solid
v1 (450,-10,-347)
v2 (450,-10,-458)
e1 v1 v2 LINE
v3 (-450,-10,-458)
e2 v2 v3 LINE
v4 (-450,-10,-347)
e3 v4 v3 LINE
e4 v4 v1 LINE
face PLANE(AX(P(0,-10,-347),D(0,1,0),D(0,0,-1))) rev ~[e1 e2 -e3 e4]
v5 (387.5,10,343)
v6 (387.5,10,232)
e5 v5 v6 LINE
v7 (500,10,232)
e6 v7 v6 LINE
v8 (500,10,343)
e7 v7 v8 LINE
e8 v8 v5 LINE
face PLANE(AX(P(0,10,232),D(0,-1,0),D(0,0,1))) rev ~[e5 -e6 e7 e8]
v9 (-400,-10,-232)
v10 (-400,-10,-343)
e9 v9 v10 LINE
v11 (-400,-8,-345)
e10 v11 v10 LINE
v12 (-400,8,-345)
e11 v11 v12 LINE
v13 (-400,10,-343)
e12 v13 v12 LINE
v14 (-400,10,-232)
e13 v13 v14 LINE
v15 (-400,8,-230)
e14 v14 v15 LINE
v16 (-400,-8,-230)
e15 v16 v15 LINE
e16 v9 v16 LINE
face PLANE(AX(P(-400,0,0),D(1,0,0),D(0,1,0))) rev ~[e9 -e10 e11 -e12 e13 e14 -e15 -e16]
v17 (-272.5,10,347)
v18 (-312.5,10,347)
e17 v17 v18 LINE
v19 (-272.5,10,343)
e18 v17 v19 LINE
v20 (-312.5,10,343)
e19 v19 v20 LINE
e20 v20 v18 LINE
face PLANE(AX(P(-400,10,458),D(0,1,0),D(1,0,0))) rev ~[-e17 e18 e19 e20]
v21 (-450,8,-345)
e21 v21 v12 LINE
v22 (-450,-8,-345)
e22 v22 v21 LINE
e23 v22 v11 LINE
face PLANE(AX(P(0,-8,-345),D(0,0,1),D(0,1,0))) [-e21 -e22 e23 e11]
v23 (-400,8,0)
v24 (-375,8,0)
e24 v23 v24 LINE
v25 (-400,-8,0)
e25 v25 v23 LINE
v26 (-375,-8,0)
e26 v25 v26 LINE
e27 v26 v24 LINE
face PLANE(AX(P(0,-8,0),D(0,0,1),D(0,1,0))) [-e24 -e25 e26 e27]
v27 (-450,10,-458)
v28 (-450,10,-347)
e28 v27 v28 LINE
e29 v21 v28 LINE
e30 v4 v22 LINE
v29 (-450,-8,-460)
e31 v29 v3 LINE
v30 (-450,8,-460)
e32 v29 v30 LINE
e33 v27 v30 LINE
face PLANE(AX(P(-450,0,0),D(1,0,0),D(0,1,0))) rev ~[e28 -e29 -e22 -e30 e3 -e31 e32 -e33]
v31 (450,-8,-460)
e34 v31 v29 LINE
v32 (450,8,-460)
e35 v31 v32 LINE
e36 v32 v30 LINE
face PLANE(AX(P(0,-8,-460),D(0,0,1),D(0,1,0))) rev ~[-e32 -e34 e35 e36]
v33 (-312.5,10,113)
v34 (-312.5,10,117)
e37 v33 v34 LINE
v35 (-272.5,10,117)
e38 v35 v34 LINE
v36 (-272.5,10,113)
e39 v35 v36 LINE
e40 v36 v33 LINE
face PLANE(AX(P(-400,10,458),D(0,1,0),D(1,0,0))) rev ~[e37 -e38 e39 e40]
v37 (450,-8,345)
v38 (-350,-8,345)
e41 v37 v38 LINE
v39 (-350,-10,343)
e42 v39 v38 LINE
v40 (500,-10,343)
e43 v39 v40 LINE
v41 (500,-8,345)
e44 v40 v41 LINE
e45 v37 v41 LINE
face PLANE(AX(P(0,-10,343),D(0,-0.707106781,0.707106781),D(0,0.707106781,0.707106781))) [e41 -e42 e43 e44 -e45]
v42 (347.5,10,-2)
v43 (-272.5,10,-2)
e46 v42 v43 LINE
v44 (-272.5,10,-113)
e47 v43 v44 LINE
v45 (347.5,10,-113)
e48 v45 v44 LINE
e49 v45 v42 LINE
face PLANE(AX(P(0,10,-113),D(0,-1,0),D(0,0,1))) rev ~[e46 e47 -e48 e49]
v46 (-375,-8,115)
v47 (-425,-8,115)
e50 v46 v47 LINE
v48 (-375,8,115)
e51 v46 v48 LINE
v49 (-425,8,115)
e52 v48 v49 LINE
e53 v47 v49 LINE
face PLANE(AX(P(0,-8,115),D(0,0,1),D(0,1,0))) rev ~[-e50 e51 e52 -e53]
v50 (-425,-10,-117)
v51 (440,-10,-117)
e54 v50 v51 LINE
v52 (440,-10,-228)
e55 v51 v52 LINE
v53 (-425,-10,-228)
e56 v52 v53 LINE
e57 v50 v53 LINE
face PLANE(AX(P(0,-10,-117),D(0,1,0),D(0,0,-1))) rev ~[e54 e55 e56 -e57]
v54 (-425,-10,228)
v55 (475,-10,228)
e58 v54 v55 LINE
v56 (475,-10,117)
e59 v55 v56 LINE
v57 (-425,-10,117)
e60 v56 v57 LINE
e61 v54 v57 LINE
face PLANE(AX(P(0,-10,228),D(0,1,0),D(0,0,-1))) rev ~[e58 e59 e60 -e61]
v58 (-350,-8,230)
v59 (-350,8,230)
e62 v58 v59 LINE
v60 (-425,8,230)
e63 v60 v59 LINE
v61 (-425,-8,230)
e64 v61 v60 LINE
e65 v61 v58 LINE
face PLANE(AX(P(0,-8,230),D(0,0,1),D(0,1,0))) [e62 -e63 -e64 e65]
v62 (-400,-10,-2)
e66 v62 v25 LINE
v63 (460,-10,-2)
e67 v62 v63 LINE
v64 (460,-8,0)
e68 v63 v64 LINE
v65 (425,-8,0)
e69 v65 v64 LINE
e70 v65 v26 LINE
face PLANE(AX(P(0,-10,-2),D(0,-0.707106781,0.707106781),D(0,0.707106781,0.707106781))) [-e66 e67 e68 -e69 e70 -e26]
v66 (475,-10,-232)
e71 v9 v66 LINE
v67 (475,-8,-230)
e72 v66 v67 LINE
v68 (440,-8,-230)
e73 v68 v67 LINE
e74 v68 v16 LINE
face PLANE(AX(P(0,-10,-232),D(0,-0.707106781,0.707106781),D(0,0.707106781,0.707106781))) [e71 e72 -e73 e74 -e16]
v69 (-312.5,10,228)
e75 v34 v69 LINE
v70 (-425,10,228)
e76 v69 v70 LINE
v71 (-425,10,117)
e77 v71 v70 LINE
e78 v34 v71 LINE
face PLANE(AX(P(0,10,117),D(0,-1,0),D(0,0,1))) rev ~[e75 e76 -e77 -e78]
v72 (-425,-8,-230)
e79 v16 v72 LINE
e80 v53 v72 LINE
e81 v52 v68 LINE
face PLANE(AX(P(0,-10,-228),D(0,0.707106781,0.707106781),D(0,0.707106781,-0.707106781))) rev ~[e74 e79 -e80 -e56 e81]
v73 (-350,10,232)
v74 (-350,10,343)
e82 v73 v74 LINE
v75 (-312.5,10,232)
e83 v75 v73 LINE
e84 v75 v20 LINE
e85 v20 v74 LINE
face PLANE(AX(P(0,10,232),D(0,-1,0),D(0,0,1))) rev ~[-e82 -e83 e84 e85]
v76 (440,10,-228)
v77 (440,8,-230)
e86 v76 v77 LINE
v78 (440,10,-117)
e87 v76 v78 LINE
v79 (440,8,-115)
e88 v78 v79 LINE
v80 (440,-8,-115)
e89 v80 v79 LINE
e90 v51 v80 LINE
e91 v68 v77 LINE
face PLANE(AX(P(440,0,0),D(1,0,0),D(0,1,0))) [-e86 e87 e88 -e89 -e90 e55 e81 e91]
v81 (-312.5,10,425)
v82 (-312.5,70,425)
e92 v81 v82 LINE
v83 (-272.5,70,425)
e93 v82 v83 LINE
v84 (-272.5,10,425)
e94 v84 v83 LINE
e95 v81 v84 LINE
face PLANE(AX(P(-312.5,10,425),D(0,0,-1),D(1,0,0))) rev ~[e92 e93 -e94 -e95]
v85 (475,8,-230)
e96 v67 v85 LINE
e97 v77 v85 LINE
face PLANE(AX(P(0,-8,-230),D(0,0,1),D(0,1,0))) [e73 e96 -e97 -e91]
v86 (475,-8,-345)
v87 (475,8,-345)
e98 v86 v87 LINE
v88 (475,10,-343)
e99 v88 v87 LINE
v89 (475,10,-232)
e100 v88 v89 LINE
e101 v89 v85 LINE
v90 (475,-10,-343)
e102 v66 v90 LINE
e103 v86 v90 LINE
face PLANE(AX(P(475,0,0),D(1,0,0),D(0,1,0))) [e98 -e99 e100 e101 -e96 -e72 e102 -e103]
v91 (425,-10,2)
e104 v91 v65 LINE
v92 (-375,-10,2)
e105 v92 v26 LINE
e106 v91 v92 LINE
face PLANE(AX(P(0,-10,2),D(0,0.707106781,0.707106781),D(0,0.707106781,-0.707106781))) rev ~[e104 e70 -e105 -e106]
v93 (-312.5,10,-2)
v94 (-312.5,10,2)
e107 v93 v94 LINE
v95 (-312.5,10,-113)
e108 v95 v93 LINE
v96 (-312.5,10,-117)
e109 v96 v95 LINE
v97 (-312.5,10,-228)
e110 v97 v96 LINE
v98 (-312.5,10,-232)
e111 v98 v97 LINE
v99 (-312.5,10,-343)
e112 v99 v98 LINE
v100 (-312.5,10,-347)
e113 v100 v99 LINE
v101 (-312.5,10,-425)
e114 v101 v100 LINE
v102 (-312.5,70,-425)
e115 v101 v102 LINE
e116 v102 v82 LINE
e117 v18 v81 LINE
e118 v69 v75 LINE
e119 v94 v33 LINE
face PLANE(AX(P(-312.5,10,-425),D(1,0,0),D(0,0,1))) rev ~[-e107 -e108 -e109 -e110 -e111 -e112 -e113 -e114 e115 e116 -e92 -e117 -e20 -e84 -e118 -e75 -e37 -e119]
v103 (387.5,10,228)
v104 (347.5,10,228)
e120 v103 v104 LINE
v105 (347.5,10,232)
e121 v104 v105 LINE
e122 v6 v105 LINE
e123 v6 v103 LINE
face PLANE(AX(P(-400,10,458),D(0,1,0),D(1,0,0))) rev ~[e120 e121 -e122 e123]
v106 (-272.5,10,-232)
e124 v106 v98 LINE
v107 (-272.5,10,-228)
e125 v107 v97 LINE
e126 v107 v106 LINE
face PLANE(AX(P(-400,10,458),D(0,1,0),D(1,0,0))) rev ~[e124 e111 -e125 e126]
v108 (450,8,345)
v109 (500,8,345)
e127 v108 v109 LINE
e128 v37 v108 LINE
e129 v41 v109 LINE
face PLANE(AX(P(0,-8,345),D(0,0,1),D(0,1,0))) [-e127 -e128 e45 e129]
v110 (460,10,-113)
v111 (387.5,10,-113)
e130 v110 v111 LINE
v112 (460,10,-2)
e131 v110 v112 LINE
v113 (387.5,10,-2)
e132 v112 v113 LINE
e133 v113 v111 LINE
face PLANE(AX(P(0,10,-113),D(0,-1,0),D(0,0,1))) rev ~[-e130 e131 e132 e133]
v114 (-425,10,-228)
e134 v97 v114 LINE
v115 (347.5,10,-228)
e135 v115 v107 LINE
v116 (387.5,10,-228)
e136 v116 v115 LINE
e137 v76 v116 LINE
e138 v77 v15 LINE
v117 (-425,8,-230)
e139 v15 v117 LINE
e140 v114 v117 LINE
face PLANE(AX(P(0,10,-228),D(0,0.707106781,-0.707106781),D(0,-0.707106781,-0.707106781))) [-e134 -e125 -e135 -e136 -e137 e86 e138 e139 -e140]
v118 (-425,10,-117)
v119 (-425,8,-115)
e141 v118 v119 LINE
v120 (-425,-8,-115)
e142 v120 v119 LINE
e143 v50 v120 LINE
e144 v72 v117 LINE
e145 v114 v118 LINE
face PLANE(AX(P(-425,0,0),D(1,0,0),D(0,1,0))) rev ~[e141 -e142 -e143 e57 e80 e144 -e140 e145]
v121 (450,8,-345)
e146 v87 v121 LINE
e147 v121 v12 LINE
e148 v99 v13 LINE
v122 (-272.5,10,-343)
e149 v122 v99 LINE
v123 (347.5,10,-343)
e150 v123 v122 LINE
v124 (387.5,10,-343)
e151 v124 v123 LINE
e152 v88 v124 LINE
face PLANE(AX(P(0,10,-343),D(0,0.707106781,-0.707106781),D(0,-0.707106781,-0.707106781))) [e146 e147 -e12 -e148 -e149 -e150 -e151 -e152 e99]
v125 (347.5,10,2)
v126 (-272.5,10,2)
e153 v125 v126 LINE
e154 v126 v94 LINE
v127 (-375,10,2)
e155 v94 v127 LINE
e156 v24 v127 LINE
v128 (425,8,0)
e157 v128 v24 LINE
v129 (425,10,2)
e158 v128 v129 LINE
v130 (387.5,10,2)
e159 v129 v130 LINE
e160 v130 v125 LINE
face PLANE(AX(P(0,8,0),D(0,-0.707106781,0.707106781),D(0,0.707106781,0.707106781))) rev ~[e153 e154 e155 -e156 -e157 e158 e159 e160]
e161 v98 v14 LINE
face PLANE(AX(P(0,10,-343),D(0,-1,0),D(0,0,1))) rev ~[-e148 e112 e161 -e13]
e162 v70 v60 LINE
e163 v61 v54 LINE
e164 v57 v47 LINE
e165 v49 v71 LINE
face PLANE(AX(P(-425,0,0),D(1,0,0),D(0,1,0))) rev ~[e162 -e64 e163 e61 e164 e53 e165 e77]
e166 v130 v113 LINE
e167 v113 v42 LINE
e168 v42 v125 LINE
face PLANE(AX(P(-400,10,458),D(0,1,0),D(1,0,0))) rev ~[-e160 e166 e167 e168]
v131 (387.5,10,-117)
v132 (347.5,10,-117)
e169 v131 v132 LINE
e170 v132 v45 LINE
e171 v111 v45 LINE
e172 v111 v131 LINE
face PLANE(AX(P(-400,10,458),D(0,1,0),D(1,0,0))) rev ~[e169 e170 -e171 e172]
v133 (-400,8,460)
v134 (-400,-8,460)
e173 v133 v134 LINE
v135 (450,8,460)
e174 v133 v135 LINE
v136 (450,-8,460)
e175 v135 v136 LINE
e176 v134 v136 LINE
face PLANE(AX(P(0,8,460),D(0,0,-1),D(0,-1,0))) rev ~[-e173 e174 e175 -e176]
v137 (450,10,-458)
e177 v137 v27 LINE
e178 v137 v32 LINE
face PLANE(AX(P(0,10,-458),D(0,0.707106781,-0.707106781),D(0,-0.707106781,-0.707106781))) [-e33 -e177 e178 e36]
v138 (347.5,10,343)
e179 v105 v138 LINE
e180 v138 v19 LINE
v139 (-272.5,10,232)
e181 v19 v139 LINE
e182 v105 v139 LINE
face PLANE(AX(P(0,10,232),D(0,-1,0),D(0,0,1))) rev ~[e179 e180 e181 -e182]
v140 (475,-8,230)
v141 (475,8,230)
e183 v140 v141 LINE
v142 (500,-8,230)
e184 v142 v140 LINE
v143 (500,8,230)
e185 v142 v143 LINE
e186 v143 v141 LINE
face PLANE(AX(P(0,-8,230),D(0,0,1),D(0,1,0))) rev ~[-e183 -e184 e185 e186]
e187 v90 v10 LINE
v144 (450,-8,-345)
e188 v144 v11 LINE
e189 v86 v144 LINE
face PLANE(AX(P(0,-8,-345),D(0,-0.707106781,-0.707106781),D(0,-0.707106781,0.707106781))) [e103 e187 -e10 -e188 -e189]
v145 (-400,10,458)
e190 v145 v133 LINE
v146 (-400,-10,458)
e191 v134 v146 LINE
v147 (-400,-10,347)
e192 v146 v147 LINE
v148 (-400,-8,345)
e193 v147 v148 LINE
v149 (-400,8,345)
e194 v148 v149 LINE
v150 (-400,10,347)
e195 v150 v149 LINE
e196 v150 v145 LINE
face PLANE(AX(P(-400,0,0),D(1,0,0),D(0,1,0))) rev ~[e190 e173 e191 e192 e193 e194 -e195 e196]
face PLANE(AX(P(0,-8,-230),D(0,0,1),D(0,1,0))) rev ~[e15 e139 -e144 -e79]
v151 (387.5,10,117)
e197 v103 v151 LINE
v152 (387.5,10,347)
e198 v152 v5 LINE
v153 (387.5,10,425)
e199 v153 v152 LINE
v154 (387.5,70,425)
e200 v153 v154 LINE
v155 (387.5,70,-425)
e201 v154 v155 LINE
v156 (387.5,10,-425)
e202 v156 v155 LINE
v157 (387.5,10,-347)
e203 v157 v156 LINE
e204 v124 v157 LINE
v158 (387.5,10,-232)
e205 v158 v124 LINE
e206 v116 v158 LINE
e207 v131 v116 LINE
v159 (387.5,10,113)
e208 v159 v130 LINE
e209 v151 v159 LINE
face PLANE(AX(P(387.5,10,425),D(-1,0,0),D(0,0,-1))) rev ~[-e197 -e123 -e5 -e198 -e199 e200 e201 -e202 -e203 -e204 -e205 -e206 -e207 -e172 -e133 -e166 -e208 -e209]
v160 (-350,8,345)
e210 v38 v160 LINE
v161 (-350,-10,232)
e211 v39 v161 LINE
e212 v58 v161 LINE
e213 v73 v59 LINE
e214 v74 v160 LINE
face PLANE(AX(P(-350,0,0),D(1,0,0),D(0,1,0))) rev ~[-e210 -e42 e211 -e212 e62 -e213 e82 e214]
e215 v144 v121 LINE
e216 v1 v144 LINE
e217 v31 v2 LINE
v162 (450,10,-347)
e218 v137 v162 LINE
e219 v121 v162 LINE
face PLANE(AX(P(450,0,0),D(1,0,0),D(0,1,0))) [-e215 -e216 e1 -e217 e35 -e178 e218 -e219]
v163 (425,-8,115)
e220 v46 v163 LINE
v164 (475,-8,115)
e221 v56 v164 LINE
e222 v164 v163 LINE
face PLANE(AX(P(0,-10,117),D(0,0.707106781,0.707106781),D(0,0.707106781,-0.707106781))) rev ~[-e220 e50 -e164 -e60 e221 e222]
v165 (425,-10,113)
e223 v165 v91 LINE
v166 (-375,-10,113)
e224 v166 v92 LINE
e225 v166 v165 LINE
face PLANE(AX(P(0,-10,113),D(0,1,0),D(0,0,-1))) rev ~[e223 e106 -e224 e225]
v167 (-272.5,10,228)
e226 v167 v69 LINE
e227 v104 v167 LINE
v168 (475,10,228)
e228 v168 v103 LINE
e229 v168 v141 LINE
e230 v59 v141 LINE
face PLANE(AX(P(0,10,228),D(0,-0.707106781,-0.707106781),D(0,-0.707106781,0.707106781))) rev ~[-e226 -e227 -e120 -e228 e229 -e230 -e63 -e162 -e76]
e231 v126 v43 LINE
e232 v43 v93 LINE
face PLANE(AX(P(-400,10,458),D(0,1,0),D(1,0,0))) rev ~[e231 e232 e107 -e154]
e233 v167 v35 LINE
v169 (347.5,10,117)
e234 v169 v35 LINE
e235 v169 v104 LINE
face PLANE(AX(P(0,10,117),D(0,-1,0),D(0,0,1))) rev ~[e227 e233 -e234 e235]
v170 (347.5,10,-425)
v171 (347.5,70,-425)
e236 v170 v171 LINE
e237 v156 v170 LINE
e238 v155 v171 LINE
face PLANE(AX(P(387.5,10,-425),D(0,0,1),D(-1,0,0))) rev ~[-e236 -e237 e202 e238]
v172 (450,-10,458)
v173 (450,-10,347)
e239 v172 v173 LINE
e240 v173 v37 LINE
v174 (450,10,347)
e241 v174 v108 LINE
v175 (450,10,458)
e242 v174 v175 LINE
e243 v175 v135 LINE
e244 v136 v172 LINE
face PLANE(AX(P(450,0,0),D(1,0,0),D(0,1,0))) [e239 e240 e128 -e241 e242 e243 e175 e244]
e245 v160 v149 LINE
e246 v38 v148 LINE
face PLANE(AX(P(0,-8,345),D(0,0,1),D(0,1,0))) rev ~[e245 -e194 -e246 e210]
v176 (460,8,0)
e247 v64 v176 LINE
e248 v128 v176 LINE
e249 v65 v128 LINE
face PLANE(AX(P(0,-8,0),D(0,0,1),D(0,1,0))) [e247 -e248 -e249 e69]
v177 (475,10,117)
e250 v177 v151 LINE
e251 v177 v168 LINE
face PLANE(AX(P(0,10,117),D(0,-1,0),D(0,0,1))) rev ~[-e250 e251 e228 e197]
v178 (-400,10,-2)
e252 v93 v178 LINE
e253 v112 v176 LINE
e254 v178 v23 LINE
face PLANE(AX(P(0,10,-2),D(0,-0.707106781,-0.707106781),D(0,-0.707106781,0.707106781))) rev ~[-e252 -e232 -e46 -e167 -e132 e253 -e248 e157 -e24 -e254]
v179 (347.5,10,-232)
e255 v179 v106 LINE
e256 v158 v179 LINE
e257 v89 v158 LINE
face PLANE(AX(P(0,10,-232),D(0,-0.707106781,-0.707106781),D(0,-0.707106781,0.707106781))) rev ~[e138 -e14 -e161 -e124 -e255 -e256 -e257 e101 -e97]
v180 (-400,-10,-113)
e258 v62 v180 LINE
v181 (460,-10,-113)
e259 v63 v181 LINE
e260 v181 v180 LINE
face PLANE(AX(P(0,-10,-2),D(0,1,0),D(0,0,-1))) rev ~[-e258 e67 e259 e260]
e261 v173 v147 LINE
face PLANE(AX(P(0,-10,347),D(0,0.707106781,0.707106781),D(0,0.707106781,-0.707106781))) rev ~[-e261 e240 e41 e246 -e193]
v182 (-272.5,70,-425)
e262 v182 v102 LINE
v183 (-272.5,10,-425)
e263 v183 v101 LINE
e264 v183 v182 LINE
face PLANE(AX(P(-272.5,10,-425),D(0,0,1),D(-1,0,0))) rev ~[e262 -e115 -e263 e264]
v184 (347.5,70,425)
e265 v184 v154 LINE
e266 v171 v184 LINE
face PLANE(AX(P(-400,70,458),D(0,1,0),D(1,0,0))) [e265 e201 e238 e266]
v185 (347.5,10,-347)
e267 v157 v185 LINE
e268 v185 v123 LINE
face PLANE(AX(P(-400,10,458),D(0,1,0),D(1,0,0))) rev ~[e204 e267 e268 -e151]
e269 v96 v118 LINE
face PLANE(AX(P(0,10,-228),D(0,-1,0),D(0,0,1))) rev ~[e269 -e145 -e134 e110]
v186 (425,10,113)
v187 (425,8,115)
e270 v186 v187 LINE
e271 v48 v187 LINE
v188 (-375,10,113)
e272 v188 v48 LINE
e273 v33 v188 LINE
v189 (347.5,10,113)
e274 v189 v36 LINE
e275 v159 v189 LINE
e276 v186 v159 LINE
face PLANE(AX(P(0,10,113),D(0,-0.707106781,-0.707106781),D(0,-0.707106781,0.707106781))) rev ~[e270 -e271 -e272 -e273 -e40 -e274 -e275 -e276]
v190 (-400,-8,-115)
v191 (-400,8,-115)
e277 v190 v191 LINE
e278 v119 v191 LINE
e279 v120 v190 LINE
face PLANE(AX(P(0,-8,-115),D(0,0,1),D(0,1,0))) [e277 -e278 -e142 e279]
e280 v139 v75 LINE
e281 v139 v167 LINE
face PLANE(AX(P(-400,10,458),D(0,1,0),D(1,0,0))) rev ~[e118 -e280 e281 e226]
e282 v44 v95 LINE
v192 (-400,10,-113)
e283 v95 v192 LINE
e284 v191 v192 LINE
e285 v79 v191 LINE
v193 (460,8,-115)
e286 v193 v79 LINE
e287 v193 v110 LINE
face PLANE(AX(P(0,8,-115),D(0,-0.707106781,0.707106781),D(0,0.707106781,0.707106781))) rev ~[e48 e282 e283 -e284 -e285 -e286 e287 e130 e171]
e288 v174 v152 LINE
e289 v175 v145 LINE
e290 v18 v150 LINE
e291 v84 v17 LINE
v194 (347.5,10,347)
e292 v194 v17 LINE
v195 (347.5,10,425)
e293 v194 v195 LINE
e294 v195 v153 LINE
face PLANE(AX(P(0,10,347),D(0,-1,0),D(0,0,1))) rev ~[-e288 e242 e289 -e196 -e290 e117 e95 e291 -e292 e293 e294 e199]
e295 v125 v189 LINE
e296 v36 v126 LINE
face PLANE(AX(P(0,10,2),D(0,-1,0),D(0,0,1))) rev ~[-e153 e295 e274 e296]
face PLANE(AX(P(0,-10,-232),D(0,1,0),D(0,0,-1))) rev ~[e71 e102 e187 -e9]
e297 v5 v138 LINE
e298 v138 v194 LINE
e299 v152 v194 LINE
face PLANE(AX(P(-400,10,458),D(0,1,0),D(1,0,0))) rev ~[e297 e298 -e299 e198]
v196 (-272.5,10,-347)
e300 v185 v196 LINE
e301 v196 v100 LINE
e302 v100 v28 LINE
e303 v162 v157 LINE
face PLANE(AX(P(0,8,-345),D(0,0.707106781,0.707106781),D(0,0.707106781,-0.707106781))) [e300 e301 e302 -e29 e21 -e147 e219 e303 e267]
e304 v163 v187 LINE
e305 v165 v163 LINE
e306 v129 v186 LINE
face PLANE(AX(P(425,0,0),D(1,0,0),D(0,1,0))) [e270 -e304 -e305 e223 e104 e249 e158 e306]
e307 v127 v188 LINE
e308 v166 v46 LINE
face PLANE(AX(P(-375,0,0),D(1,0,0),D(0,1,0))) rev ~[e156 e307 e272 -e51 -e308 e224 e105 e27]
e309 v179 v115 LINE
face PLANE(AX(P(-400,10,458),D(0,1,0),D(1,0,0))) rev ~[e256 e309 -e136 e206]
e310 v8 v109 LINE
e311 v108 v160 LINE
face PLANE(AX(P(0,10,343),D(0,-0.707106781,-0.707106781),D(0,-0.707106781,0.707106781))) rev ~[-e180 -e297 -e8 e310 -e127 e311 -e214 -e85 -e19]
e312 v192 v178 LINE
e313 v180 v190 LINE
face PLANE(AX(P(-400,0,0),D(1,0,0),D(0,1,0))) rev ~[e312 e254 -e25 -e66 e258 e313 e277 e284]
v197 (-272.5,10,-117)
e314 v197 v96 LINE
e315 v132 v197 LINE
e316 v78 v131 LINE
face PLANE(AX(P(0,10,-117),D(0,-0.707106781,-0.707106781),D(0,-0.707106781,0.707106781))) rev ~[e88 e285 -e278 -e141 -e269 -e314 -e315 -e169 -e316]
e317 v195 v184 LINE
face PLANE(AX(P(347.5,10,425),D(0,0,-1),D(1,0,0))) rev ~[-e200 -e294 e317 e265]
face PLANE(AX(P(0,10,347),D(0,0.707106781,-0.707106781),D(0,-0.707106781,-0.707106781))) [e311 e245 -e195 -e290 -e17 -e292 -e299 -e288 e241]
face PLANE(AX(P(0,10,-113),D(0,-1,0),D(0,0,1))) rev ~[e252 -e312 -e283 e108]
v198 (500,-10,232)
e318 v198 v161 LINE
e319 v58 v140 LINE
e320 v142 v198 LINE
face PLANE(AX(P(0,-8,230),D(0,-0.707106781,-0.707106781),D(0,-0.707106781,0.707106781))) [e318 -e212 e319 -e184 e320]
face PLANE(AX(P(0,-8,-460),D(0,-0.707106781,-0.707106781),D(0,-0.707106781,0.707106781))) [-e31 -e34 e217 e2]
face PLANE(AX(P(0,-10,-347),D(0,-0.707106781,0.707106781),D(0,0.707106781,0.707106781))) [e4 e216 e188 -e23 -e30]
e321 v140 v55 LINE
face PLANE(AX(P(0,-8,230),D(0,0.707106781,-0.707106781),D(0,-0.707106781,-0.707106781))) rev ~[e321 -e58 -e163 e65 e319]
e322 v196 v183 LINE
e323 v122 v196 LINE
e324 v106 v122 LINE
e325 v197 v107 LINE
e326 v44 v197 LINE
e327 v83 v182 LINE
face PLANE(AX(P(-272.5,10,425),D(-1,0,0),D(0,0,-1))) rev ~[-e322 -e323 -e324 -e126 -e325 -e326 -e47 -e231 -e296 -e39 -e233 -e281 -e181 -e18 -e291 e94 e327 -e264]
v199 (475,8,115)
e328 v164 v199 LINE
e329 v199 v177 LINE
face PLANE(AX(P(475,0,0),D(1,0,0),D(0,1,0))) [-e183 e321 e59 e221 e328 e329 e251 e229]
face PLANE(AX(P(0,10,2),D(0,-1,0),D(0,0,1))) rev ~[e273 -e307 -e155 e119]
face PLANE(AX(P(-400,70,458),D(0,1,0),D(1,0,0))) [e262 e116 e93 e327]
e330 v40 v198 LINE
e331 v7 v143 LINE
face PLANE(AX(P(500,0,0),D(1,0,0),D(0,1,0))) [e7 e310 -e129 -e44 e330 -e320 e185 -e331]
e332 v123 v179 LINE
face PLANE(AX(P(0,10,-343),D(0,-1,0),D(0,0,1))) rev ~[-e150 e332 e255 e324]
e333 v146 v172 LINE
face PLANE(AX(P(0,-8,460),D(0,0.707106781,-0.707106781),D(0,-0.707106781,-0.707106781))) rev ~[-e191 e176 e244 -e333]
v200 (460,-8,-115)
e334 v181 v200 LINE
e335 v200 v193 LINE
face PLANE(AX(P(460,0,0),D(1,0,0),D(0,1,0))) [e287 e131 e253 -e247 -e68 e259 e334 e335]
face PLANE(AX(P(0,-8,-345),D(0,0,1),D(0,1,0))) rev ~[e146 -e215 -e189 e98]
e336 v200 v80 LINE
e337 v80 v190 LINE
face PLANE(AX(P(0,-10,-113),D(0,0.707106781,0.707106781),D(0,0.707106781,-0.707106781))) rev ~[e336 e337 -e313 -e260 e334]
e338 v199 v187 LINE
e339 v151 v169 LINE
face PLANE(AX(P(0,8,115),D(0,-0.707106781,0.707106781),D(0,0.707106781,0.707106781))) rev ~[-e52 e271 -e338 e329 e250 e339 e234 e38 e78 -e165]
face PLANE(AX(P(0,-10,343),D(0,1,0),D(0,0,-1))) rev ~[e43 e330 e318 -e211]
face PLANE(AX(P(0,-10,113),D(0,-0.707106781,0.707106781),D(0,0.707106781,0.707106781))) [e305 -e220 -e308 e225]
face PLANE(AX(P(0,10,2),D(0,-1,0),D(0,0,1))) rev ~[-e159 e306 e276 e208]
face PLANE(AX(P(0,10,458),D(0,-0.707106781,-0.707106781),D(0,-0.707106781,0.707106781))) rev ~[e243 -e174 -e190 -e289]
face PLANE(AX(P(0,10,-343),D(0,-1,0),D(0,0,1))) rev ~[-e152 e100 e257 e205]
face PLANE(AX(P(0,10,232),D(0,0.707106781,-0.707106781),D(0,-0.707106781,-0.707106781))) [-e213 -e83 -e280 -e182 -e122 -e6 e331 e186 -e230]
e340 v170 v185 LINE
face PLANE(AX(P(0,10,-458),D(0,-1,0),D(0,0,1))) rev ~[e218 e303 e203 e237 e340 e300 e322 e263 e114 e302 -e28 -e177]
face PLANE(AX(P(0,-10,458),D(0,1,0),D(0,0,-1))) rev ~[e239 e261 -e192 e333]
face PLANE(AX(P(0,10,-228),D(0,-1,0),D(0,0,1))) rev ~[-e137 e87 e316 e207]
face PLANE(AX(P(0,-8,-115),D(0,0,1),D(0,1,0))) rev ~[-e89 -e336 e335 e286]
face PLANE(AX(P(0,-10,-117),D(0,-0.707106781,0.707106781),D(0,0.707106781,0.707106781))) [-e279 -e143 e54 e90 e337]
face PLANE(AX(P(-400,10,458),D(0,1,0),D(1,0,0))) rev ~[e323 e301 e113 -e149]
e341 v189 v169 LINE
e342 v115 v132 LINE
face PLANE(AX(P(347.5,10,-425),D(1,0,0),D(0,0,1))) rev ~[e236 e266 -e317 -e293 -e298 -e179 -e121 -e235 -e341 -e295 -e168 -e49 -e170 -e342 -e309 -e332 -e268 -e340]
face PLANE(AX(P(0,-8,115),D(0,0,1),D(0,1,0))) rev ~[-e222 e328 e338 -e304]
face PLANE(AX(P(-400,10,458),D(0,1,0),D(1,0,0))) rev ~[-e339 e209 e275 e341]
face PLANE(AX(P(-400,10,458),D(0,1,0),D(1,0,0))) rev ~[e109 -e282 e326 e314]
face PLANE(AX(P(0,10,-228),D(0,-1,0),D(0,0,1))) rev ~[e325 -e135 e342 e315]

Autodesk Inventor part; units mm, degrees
ref_plane "YZ Plane" through (0, 0, 0) normal (1, 0, 0) x (0, 1, 0)
ref_plane "XZ Plane" through (0, 0, 0) normal (0, 1, 0) x (-1, 0, 0)
ref_plane "XY Plane" through (0, 0, 0) normal (0, 0, 1) x (1, 0, 0)
sketch "Skizze1" plane through (0, 0, 0) normal (1, 0, 0) x (0, 1, 0)
  line L0 (8, 460) -> (-8, 460)
  line L1 (-10, 458) -> (-10, 347)
  line L2 (-8, 345) -> (8, 345)
  line L3 (10, 347) -> (10, 458)
  line L4 (8, 345) -> (-8, 345)
  line L5 (-10, 343) -> (-10, 232)
  line L6 (-8, 230) -> (8, 230)
  line L7 (10, 232) -> (10, 343)
  line L8 (8, 230) -> (-8, 230)
  line L9 (-10, 228) -> (-10, 117)
  line L10 (-8, 115) -> (8, 115)
  line L11 (10, 117) -> (10, 228)
  line L12 (8, 115) -> (-8, 115)
  line L13 (-10, 113) -> (-10, 2)
  line L14 (-8, 0) -> (8, 0)
  line L15 (10, 2) -> (10, 113)
  line L16 (8, 0) -> (-8, 0)
  line L17 (-10, -2) -> (-10, -113)
  line L18 (-8, -115) -> (8, -115)
  line L19 (10, -113) -> (10, -2)
  line L20 (8, -115) -> (-8, -115)
  line L21 (-10, -117) -> (-10, -228)
  line L22 (-8, -230) -> (8, -230)
  line L23 (10, -228) -> (10, -117)
  line L24 (8, -230) -> (-8, -230)
  line L25 (-10, -232) -> (-10, -343)
  line L26 (-8, -345) -> (8, -345)
  line L27 (10, -343) -> (10, -232)
  line L28 (10, -343) -> (8, -345)
  line L29 (10, -232) -> (8, -230)
  line L30 (10, -228) -> (8, -230)
  line L31 (10, -117) -> (8, -115)
  line L32 (8, -115) -> (10, -113)
  line L33 (10, -2) -> (8, 0)
  line L34 (8, 0) -> (10, 2)
  line L35 (10, 113) -> (8, 115)
  line L36 (8, 115) -> (10, 117)
  line L37 (10, 228) -> (8, 230)
  line L38 (10, 232) -> (8, 230)
  line L39 (10, 343) -> (8, 345)
  line L40 (10, 347) -> (8, 345)
  line L41 (10, 458) -> (8, 460)
  line L42 (-8, -345) -> (-10, -343)
  line L43 (-10, -232) -> (-8, -230)
  line L44 (-10, -228) -> (-8, -230)
  line L45 (-10, -117) -> (-8, -115)
  line L46 (-10, -113) -> (-8, -115)
  line L47 (-10, -2) -> (-8, 0)
  line L48 (-10, 2) -> (-8, 0)
  line L49 (-10, 113) -> (-8, 115)
  line L50 (-10, 117) -> (-8, 115)
  line L51 (-10, 343) -> (-8, 345)
  line L52 (-10, 347) -> (-8, 345)
  line L53 (-8, 460) -> (-10, 458)
  line L54 (8, -345) -> (-8, -345)
  line L55 (-10, -347) -> (-10, -458)
  line L56 (-8, -460) -> (8, -460)
  line L57 (10, -458) -> (10, -347)
  line L58 (8, -345) -> (10, -347)
  line L59 (10, -458) -> (8, -460)
  line L60 (-8, -460) -> (-10, -458)
  line L61 (-10, -347) -> (-8, -345)
  line L62 (-8, 230) -> (-10, 232)
  line L63 (-8, 230) -> (-10, 228)
  point P0 (0, 115)
  point P1 (10, 460)
  point P2 (-10, 345)
  point P3 (-10, 460)
  point P4 (10, 345)
  point P5 (-10, 230)
  point P6 (-10, 345)
  point P7 (10, 230)
  point P8 (-10, 115)
  point P9 (-10, 230)
  point P10 (10, 115)
  point P11 (-10, 0)
  point P12 (-10, 115)
  point P13 (10, 0)
  point P14 (-10, -115)
  point P15 (-10, 0)
  point P16 (10, -115)
  point P17 (-10, -230)
  point P18 (-10, -115)
  point P19 (10, -230)
  point P20 (0, 115)
  point P21 (-10, 230)
  point P22 (-10, 230)
  point P23 (-9, 0)
  point P24 (-9, -115)
  point P25 (-9, -230)
  point P26 (-10, -345)
  point P27 (10, -345)
  point P28 (-10, 0)
  point P29 (-10, 0)
  point P30 (-10, 0)
  point P31 (-10, 115)
  point P32 (-10, 115)
  point P33 (-10, 345)
  point P34 (-10, 345)
  point P35 (-8, -115)
  point P36 (-10, -460)
  point P37 (-10, -345)
  point P38 (10, -460)
  point P39 (0, 0)
  point P40 (0, 0)
  dimension "d0" = 20
  dimension "d1" = 115
  dimension "d30" = 2
  dimension "d31" = 2
  dimension "d32" = 2
  dimension "d33" = 2
  dimension "d34" = 2
  dimension "d35" = 2
  dimension "d36" = 2
  dimension "d37" = 2
  dimension "d38" = 2
  dimension "d39" = 2
  dimension "d40" = 2
  dimension "d41" = 2
  dimension "d42" = 2
  dimension "d43" = 2
  dimension "d44" = 2
  dimension "d45" = 2
  dimension "d46" = 2
  dimension "d47" = 2
  dimension "d48" = 2
  dimension "d49" = 2
  dimension "d50" = 2
  dimension "d51" = 2
  dimension "d52" = 2
  dimension "d53" = 2
  dimension "d54" = 2
  dimension "d55" = 2
  dimension "d56" = 2
  dimension "d57" = 2
  dimension "d58" = 2
  dimension "d59" = 2
  dimension "d60" = 2
  dimension "d61" = 2
  dimension "d62" = 2
  dimension "d63" = 2
  dimension "d64" = 2
  dimension "d65" = 2
  dimension "d66" = 2
  dimension "d67" = 2
  dimension "d68" = 2
  dimension "d69" = 2
  dimension "d70" = 2
  dimension "d71" = 2
  dimension "d72" = 2
  dimension "d73" = 2
  dimension "d74" = 2
  dimension "d75" = 2
  dimension "d76" = 2
  dimension "d77" = 2
  dimension "d78" = 2
  dimension "d79" = 2
  dimension "d80" = 2
  dimension "d81" = 2
  dimension "d90" = 2
  dimension "d91" = 2
  dimension "d92" = 2
  dimension "d93" = 2
  dimension "d94" = 2
  dimension "d95" = 2
  dimension "d96" = 2
  dimension "d97" = 2
  dimension "d102" = 2
  dimension "d103" = 2
extrude "Extrusion1" add sketch "Skizze1" along normal blind 450 and the other way blind 400 contours L41 L3 L40 L2 L52 L1 L53 L0
extrude "Extrusion3" add sketch "Skizze1" along normal blind 475 and the other way blind 425 contours L37 L11 L36 L10 L50 L9 L63 L6
extrude "Extrusion2" add sketch "Skizze1" along normal blind 500 and the other way blind 350 contours L39 L7 L38 L6 L62 L5 L51 L2
extrude "Extrusion4" add sketch "Skizze1" along normal blind 425 and the other way blind 375 contours L35 L15 L34 L14 L48 L13 L49 L10
extrude "Extrusion5" add sketch "Skizze1" along normal blind 460 and the other way blind 400 contours L33 L19 L32 L18 L46 L17 L47 L14
extrude "Extrusion6" add sketch "Skizze1" along normal blind 440 and the other way blind 425 contours L31 L23 L30 L22 L44 L21 L45 L18
extrude "Extrusion7" add sketch "Skizze1" along normal blind 475 and the other way blind 400 contours L29 L27 L28 L26 L42 L25 L43 L22
extrude "Extrusion9" add sketch "Skizze1" along normal blind 450 and the other way blind 450 contours L58 L57 L59 L56 L60 L55 L61 L26
sketch "Skizze2" plane through (-400, 10, 458) normal (0, 1, 0) x (1, 0, 0)
  line L0 (747.5, 33) -> (787.5, 33)
  line L1 (787.5, 33) -> (787.5, 883)
  line L2 (787.5, 883) -> (747.5, 883)
  line L3 (747.5, 883) -> (747.5, 33)
  line L4 (87.5, 33) -> (127.5, 33)
  line L5 (127.5, 33) -> (127.5, 883)
  line L6 (127.5, 883) -> (87.5, 883)
  line L7 (87.5, 883) -> (87.5, 33)
  line L8 (87.5, 33) -> (787.5, 33) construction
  line L9 (787.5, 33) -> (787.5, 883) construction
  line L10 (787.5, 883) -> (87.5, 883) construction
  line L11 (87.5, 883) -> (87.5, 33) construction
  line L12 (-25, -2) -> (900, -2) construction
  line L13 (900, -2) -> (900, 918) construction
  line L14 (900, 918) -> (-25, 918) construction
  line L15 (-25, 918) -> (-25, -2) construction
  line L16 (0, -2) -> (850, -2) construction
  line L17 (-25, 230) -> (-25, 341) construction
  line L18 (900, 226) -> (900, 115) construction
  line L19 (0, 803) -> (875, 803) construction
  line L20 (-25, 458) -> (900, 458) construction
  line L21 (0, 803) -> (875, 803) construction
  line L22 (437.5, -2) -> (437.5, 918) construction
  line L23 (-50, 918) -> (850, 918) projected
  point P0 (400, 458)
  point P1 (87.5, 458)
  point P2 (437.5, 33)
  dimension "d82" = 40
  dimension "d83" = 40
  dimension "d84" = 850
  dimension "d85" = 700
extrude "Extrusion8" add sketch "Skizze2" along normal blind 60
equation "\"d31\" = d30"
equation "\"d33\" = d32"
equation "\"d34\" = d32"
equation "\"d35\" = d34"
equation "\"d36\" = d32"
equation "\"d37\" = d36"
equation "\"d38\" = d32"
equation "\"d39\" = d38"
equation "\"d40\" = d32"
equation "\"d41\" = d40"
equation "\"d42\" = d32"
equation "\"d43\" = d42"
equation "\"d44\" = d32"
equation "\"d45\" = d44"
equation "\"d46\" = d32"
equation "\"d47\" = d46"
equation "\"d48\" = d32"
equation "\"d49\" = d48"
equation "\"d50\" = d32"
equation "\"d51\" = d50"
equation "\"d52\" = d32"
equation "\"d53\" = d52"
equation "\"d54\" = d32"
equation "\"d55\" = d54"
equation "\"d56\" = d32"
equation "\"d57\" = d56"
equation "\"d59\" = d58"
equation "\"d60\" = d58"
equation "\"d61\" = d60"
equation "\"d62\" = d58"
equation "\"d63\" = d62"
equation "\"d64\" = d58"
equation "\"d65\" = d64"
equation "\"d66\" = d58"
equation "\"d67\" = d66"
equation "\"d68\" = d58"
equation "\"d69\" = d68"
equation "\"d70\" = d58"
equation "\"d71\" = d70"
equation "\"d72\" = d58"
equation "\"d73\" = d72"
equation "\"d74\" = d58"
equation "\"d75\" = d74"
equation "\"d76\" = d58"
equation "\"d77\" = d76"
equation "\"d78\" = d58"
equation "\"d79\" = d78"
equation "\"d80\" = d58"
equation "\"d81\" = d80"
equation "\"d91\" = d90"
equation "\"d92\" = d90"
equation "\"d93\" = d92"
equation "\"d94\" = d90"
equation "\"d95\" = d94"
equation "\"d96\" = d90"
equation "\"d97\" = d96"
equation "\"d83\" = d82"
properties part number "Backboard" material "Holz (Birke)"
